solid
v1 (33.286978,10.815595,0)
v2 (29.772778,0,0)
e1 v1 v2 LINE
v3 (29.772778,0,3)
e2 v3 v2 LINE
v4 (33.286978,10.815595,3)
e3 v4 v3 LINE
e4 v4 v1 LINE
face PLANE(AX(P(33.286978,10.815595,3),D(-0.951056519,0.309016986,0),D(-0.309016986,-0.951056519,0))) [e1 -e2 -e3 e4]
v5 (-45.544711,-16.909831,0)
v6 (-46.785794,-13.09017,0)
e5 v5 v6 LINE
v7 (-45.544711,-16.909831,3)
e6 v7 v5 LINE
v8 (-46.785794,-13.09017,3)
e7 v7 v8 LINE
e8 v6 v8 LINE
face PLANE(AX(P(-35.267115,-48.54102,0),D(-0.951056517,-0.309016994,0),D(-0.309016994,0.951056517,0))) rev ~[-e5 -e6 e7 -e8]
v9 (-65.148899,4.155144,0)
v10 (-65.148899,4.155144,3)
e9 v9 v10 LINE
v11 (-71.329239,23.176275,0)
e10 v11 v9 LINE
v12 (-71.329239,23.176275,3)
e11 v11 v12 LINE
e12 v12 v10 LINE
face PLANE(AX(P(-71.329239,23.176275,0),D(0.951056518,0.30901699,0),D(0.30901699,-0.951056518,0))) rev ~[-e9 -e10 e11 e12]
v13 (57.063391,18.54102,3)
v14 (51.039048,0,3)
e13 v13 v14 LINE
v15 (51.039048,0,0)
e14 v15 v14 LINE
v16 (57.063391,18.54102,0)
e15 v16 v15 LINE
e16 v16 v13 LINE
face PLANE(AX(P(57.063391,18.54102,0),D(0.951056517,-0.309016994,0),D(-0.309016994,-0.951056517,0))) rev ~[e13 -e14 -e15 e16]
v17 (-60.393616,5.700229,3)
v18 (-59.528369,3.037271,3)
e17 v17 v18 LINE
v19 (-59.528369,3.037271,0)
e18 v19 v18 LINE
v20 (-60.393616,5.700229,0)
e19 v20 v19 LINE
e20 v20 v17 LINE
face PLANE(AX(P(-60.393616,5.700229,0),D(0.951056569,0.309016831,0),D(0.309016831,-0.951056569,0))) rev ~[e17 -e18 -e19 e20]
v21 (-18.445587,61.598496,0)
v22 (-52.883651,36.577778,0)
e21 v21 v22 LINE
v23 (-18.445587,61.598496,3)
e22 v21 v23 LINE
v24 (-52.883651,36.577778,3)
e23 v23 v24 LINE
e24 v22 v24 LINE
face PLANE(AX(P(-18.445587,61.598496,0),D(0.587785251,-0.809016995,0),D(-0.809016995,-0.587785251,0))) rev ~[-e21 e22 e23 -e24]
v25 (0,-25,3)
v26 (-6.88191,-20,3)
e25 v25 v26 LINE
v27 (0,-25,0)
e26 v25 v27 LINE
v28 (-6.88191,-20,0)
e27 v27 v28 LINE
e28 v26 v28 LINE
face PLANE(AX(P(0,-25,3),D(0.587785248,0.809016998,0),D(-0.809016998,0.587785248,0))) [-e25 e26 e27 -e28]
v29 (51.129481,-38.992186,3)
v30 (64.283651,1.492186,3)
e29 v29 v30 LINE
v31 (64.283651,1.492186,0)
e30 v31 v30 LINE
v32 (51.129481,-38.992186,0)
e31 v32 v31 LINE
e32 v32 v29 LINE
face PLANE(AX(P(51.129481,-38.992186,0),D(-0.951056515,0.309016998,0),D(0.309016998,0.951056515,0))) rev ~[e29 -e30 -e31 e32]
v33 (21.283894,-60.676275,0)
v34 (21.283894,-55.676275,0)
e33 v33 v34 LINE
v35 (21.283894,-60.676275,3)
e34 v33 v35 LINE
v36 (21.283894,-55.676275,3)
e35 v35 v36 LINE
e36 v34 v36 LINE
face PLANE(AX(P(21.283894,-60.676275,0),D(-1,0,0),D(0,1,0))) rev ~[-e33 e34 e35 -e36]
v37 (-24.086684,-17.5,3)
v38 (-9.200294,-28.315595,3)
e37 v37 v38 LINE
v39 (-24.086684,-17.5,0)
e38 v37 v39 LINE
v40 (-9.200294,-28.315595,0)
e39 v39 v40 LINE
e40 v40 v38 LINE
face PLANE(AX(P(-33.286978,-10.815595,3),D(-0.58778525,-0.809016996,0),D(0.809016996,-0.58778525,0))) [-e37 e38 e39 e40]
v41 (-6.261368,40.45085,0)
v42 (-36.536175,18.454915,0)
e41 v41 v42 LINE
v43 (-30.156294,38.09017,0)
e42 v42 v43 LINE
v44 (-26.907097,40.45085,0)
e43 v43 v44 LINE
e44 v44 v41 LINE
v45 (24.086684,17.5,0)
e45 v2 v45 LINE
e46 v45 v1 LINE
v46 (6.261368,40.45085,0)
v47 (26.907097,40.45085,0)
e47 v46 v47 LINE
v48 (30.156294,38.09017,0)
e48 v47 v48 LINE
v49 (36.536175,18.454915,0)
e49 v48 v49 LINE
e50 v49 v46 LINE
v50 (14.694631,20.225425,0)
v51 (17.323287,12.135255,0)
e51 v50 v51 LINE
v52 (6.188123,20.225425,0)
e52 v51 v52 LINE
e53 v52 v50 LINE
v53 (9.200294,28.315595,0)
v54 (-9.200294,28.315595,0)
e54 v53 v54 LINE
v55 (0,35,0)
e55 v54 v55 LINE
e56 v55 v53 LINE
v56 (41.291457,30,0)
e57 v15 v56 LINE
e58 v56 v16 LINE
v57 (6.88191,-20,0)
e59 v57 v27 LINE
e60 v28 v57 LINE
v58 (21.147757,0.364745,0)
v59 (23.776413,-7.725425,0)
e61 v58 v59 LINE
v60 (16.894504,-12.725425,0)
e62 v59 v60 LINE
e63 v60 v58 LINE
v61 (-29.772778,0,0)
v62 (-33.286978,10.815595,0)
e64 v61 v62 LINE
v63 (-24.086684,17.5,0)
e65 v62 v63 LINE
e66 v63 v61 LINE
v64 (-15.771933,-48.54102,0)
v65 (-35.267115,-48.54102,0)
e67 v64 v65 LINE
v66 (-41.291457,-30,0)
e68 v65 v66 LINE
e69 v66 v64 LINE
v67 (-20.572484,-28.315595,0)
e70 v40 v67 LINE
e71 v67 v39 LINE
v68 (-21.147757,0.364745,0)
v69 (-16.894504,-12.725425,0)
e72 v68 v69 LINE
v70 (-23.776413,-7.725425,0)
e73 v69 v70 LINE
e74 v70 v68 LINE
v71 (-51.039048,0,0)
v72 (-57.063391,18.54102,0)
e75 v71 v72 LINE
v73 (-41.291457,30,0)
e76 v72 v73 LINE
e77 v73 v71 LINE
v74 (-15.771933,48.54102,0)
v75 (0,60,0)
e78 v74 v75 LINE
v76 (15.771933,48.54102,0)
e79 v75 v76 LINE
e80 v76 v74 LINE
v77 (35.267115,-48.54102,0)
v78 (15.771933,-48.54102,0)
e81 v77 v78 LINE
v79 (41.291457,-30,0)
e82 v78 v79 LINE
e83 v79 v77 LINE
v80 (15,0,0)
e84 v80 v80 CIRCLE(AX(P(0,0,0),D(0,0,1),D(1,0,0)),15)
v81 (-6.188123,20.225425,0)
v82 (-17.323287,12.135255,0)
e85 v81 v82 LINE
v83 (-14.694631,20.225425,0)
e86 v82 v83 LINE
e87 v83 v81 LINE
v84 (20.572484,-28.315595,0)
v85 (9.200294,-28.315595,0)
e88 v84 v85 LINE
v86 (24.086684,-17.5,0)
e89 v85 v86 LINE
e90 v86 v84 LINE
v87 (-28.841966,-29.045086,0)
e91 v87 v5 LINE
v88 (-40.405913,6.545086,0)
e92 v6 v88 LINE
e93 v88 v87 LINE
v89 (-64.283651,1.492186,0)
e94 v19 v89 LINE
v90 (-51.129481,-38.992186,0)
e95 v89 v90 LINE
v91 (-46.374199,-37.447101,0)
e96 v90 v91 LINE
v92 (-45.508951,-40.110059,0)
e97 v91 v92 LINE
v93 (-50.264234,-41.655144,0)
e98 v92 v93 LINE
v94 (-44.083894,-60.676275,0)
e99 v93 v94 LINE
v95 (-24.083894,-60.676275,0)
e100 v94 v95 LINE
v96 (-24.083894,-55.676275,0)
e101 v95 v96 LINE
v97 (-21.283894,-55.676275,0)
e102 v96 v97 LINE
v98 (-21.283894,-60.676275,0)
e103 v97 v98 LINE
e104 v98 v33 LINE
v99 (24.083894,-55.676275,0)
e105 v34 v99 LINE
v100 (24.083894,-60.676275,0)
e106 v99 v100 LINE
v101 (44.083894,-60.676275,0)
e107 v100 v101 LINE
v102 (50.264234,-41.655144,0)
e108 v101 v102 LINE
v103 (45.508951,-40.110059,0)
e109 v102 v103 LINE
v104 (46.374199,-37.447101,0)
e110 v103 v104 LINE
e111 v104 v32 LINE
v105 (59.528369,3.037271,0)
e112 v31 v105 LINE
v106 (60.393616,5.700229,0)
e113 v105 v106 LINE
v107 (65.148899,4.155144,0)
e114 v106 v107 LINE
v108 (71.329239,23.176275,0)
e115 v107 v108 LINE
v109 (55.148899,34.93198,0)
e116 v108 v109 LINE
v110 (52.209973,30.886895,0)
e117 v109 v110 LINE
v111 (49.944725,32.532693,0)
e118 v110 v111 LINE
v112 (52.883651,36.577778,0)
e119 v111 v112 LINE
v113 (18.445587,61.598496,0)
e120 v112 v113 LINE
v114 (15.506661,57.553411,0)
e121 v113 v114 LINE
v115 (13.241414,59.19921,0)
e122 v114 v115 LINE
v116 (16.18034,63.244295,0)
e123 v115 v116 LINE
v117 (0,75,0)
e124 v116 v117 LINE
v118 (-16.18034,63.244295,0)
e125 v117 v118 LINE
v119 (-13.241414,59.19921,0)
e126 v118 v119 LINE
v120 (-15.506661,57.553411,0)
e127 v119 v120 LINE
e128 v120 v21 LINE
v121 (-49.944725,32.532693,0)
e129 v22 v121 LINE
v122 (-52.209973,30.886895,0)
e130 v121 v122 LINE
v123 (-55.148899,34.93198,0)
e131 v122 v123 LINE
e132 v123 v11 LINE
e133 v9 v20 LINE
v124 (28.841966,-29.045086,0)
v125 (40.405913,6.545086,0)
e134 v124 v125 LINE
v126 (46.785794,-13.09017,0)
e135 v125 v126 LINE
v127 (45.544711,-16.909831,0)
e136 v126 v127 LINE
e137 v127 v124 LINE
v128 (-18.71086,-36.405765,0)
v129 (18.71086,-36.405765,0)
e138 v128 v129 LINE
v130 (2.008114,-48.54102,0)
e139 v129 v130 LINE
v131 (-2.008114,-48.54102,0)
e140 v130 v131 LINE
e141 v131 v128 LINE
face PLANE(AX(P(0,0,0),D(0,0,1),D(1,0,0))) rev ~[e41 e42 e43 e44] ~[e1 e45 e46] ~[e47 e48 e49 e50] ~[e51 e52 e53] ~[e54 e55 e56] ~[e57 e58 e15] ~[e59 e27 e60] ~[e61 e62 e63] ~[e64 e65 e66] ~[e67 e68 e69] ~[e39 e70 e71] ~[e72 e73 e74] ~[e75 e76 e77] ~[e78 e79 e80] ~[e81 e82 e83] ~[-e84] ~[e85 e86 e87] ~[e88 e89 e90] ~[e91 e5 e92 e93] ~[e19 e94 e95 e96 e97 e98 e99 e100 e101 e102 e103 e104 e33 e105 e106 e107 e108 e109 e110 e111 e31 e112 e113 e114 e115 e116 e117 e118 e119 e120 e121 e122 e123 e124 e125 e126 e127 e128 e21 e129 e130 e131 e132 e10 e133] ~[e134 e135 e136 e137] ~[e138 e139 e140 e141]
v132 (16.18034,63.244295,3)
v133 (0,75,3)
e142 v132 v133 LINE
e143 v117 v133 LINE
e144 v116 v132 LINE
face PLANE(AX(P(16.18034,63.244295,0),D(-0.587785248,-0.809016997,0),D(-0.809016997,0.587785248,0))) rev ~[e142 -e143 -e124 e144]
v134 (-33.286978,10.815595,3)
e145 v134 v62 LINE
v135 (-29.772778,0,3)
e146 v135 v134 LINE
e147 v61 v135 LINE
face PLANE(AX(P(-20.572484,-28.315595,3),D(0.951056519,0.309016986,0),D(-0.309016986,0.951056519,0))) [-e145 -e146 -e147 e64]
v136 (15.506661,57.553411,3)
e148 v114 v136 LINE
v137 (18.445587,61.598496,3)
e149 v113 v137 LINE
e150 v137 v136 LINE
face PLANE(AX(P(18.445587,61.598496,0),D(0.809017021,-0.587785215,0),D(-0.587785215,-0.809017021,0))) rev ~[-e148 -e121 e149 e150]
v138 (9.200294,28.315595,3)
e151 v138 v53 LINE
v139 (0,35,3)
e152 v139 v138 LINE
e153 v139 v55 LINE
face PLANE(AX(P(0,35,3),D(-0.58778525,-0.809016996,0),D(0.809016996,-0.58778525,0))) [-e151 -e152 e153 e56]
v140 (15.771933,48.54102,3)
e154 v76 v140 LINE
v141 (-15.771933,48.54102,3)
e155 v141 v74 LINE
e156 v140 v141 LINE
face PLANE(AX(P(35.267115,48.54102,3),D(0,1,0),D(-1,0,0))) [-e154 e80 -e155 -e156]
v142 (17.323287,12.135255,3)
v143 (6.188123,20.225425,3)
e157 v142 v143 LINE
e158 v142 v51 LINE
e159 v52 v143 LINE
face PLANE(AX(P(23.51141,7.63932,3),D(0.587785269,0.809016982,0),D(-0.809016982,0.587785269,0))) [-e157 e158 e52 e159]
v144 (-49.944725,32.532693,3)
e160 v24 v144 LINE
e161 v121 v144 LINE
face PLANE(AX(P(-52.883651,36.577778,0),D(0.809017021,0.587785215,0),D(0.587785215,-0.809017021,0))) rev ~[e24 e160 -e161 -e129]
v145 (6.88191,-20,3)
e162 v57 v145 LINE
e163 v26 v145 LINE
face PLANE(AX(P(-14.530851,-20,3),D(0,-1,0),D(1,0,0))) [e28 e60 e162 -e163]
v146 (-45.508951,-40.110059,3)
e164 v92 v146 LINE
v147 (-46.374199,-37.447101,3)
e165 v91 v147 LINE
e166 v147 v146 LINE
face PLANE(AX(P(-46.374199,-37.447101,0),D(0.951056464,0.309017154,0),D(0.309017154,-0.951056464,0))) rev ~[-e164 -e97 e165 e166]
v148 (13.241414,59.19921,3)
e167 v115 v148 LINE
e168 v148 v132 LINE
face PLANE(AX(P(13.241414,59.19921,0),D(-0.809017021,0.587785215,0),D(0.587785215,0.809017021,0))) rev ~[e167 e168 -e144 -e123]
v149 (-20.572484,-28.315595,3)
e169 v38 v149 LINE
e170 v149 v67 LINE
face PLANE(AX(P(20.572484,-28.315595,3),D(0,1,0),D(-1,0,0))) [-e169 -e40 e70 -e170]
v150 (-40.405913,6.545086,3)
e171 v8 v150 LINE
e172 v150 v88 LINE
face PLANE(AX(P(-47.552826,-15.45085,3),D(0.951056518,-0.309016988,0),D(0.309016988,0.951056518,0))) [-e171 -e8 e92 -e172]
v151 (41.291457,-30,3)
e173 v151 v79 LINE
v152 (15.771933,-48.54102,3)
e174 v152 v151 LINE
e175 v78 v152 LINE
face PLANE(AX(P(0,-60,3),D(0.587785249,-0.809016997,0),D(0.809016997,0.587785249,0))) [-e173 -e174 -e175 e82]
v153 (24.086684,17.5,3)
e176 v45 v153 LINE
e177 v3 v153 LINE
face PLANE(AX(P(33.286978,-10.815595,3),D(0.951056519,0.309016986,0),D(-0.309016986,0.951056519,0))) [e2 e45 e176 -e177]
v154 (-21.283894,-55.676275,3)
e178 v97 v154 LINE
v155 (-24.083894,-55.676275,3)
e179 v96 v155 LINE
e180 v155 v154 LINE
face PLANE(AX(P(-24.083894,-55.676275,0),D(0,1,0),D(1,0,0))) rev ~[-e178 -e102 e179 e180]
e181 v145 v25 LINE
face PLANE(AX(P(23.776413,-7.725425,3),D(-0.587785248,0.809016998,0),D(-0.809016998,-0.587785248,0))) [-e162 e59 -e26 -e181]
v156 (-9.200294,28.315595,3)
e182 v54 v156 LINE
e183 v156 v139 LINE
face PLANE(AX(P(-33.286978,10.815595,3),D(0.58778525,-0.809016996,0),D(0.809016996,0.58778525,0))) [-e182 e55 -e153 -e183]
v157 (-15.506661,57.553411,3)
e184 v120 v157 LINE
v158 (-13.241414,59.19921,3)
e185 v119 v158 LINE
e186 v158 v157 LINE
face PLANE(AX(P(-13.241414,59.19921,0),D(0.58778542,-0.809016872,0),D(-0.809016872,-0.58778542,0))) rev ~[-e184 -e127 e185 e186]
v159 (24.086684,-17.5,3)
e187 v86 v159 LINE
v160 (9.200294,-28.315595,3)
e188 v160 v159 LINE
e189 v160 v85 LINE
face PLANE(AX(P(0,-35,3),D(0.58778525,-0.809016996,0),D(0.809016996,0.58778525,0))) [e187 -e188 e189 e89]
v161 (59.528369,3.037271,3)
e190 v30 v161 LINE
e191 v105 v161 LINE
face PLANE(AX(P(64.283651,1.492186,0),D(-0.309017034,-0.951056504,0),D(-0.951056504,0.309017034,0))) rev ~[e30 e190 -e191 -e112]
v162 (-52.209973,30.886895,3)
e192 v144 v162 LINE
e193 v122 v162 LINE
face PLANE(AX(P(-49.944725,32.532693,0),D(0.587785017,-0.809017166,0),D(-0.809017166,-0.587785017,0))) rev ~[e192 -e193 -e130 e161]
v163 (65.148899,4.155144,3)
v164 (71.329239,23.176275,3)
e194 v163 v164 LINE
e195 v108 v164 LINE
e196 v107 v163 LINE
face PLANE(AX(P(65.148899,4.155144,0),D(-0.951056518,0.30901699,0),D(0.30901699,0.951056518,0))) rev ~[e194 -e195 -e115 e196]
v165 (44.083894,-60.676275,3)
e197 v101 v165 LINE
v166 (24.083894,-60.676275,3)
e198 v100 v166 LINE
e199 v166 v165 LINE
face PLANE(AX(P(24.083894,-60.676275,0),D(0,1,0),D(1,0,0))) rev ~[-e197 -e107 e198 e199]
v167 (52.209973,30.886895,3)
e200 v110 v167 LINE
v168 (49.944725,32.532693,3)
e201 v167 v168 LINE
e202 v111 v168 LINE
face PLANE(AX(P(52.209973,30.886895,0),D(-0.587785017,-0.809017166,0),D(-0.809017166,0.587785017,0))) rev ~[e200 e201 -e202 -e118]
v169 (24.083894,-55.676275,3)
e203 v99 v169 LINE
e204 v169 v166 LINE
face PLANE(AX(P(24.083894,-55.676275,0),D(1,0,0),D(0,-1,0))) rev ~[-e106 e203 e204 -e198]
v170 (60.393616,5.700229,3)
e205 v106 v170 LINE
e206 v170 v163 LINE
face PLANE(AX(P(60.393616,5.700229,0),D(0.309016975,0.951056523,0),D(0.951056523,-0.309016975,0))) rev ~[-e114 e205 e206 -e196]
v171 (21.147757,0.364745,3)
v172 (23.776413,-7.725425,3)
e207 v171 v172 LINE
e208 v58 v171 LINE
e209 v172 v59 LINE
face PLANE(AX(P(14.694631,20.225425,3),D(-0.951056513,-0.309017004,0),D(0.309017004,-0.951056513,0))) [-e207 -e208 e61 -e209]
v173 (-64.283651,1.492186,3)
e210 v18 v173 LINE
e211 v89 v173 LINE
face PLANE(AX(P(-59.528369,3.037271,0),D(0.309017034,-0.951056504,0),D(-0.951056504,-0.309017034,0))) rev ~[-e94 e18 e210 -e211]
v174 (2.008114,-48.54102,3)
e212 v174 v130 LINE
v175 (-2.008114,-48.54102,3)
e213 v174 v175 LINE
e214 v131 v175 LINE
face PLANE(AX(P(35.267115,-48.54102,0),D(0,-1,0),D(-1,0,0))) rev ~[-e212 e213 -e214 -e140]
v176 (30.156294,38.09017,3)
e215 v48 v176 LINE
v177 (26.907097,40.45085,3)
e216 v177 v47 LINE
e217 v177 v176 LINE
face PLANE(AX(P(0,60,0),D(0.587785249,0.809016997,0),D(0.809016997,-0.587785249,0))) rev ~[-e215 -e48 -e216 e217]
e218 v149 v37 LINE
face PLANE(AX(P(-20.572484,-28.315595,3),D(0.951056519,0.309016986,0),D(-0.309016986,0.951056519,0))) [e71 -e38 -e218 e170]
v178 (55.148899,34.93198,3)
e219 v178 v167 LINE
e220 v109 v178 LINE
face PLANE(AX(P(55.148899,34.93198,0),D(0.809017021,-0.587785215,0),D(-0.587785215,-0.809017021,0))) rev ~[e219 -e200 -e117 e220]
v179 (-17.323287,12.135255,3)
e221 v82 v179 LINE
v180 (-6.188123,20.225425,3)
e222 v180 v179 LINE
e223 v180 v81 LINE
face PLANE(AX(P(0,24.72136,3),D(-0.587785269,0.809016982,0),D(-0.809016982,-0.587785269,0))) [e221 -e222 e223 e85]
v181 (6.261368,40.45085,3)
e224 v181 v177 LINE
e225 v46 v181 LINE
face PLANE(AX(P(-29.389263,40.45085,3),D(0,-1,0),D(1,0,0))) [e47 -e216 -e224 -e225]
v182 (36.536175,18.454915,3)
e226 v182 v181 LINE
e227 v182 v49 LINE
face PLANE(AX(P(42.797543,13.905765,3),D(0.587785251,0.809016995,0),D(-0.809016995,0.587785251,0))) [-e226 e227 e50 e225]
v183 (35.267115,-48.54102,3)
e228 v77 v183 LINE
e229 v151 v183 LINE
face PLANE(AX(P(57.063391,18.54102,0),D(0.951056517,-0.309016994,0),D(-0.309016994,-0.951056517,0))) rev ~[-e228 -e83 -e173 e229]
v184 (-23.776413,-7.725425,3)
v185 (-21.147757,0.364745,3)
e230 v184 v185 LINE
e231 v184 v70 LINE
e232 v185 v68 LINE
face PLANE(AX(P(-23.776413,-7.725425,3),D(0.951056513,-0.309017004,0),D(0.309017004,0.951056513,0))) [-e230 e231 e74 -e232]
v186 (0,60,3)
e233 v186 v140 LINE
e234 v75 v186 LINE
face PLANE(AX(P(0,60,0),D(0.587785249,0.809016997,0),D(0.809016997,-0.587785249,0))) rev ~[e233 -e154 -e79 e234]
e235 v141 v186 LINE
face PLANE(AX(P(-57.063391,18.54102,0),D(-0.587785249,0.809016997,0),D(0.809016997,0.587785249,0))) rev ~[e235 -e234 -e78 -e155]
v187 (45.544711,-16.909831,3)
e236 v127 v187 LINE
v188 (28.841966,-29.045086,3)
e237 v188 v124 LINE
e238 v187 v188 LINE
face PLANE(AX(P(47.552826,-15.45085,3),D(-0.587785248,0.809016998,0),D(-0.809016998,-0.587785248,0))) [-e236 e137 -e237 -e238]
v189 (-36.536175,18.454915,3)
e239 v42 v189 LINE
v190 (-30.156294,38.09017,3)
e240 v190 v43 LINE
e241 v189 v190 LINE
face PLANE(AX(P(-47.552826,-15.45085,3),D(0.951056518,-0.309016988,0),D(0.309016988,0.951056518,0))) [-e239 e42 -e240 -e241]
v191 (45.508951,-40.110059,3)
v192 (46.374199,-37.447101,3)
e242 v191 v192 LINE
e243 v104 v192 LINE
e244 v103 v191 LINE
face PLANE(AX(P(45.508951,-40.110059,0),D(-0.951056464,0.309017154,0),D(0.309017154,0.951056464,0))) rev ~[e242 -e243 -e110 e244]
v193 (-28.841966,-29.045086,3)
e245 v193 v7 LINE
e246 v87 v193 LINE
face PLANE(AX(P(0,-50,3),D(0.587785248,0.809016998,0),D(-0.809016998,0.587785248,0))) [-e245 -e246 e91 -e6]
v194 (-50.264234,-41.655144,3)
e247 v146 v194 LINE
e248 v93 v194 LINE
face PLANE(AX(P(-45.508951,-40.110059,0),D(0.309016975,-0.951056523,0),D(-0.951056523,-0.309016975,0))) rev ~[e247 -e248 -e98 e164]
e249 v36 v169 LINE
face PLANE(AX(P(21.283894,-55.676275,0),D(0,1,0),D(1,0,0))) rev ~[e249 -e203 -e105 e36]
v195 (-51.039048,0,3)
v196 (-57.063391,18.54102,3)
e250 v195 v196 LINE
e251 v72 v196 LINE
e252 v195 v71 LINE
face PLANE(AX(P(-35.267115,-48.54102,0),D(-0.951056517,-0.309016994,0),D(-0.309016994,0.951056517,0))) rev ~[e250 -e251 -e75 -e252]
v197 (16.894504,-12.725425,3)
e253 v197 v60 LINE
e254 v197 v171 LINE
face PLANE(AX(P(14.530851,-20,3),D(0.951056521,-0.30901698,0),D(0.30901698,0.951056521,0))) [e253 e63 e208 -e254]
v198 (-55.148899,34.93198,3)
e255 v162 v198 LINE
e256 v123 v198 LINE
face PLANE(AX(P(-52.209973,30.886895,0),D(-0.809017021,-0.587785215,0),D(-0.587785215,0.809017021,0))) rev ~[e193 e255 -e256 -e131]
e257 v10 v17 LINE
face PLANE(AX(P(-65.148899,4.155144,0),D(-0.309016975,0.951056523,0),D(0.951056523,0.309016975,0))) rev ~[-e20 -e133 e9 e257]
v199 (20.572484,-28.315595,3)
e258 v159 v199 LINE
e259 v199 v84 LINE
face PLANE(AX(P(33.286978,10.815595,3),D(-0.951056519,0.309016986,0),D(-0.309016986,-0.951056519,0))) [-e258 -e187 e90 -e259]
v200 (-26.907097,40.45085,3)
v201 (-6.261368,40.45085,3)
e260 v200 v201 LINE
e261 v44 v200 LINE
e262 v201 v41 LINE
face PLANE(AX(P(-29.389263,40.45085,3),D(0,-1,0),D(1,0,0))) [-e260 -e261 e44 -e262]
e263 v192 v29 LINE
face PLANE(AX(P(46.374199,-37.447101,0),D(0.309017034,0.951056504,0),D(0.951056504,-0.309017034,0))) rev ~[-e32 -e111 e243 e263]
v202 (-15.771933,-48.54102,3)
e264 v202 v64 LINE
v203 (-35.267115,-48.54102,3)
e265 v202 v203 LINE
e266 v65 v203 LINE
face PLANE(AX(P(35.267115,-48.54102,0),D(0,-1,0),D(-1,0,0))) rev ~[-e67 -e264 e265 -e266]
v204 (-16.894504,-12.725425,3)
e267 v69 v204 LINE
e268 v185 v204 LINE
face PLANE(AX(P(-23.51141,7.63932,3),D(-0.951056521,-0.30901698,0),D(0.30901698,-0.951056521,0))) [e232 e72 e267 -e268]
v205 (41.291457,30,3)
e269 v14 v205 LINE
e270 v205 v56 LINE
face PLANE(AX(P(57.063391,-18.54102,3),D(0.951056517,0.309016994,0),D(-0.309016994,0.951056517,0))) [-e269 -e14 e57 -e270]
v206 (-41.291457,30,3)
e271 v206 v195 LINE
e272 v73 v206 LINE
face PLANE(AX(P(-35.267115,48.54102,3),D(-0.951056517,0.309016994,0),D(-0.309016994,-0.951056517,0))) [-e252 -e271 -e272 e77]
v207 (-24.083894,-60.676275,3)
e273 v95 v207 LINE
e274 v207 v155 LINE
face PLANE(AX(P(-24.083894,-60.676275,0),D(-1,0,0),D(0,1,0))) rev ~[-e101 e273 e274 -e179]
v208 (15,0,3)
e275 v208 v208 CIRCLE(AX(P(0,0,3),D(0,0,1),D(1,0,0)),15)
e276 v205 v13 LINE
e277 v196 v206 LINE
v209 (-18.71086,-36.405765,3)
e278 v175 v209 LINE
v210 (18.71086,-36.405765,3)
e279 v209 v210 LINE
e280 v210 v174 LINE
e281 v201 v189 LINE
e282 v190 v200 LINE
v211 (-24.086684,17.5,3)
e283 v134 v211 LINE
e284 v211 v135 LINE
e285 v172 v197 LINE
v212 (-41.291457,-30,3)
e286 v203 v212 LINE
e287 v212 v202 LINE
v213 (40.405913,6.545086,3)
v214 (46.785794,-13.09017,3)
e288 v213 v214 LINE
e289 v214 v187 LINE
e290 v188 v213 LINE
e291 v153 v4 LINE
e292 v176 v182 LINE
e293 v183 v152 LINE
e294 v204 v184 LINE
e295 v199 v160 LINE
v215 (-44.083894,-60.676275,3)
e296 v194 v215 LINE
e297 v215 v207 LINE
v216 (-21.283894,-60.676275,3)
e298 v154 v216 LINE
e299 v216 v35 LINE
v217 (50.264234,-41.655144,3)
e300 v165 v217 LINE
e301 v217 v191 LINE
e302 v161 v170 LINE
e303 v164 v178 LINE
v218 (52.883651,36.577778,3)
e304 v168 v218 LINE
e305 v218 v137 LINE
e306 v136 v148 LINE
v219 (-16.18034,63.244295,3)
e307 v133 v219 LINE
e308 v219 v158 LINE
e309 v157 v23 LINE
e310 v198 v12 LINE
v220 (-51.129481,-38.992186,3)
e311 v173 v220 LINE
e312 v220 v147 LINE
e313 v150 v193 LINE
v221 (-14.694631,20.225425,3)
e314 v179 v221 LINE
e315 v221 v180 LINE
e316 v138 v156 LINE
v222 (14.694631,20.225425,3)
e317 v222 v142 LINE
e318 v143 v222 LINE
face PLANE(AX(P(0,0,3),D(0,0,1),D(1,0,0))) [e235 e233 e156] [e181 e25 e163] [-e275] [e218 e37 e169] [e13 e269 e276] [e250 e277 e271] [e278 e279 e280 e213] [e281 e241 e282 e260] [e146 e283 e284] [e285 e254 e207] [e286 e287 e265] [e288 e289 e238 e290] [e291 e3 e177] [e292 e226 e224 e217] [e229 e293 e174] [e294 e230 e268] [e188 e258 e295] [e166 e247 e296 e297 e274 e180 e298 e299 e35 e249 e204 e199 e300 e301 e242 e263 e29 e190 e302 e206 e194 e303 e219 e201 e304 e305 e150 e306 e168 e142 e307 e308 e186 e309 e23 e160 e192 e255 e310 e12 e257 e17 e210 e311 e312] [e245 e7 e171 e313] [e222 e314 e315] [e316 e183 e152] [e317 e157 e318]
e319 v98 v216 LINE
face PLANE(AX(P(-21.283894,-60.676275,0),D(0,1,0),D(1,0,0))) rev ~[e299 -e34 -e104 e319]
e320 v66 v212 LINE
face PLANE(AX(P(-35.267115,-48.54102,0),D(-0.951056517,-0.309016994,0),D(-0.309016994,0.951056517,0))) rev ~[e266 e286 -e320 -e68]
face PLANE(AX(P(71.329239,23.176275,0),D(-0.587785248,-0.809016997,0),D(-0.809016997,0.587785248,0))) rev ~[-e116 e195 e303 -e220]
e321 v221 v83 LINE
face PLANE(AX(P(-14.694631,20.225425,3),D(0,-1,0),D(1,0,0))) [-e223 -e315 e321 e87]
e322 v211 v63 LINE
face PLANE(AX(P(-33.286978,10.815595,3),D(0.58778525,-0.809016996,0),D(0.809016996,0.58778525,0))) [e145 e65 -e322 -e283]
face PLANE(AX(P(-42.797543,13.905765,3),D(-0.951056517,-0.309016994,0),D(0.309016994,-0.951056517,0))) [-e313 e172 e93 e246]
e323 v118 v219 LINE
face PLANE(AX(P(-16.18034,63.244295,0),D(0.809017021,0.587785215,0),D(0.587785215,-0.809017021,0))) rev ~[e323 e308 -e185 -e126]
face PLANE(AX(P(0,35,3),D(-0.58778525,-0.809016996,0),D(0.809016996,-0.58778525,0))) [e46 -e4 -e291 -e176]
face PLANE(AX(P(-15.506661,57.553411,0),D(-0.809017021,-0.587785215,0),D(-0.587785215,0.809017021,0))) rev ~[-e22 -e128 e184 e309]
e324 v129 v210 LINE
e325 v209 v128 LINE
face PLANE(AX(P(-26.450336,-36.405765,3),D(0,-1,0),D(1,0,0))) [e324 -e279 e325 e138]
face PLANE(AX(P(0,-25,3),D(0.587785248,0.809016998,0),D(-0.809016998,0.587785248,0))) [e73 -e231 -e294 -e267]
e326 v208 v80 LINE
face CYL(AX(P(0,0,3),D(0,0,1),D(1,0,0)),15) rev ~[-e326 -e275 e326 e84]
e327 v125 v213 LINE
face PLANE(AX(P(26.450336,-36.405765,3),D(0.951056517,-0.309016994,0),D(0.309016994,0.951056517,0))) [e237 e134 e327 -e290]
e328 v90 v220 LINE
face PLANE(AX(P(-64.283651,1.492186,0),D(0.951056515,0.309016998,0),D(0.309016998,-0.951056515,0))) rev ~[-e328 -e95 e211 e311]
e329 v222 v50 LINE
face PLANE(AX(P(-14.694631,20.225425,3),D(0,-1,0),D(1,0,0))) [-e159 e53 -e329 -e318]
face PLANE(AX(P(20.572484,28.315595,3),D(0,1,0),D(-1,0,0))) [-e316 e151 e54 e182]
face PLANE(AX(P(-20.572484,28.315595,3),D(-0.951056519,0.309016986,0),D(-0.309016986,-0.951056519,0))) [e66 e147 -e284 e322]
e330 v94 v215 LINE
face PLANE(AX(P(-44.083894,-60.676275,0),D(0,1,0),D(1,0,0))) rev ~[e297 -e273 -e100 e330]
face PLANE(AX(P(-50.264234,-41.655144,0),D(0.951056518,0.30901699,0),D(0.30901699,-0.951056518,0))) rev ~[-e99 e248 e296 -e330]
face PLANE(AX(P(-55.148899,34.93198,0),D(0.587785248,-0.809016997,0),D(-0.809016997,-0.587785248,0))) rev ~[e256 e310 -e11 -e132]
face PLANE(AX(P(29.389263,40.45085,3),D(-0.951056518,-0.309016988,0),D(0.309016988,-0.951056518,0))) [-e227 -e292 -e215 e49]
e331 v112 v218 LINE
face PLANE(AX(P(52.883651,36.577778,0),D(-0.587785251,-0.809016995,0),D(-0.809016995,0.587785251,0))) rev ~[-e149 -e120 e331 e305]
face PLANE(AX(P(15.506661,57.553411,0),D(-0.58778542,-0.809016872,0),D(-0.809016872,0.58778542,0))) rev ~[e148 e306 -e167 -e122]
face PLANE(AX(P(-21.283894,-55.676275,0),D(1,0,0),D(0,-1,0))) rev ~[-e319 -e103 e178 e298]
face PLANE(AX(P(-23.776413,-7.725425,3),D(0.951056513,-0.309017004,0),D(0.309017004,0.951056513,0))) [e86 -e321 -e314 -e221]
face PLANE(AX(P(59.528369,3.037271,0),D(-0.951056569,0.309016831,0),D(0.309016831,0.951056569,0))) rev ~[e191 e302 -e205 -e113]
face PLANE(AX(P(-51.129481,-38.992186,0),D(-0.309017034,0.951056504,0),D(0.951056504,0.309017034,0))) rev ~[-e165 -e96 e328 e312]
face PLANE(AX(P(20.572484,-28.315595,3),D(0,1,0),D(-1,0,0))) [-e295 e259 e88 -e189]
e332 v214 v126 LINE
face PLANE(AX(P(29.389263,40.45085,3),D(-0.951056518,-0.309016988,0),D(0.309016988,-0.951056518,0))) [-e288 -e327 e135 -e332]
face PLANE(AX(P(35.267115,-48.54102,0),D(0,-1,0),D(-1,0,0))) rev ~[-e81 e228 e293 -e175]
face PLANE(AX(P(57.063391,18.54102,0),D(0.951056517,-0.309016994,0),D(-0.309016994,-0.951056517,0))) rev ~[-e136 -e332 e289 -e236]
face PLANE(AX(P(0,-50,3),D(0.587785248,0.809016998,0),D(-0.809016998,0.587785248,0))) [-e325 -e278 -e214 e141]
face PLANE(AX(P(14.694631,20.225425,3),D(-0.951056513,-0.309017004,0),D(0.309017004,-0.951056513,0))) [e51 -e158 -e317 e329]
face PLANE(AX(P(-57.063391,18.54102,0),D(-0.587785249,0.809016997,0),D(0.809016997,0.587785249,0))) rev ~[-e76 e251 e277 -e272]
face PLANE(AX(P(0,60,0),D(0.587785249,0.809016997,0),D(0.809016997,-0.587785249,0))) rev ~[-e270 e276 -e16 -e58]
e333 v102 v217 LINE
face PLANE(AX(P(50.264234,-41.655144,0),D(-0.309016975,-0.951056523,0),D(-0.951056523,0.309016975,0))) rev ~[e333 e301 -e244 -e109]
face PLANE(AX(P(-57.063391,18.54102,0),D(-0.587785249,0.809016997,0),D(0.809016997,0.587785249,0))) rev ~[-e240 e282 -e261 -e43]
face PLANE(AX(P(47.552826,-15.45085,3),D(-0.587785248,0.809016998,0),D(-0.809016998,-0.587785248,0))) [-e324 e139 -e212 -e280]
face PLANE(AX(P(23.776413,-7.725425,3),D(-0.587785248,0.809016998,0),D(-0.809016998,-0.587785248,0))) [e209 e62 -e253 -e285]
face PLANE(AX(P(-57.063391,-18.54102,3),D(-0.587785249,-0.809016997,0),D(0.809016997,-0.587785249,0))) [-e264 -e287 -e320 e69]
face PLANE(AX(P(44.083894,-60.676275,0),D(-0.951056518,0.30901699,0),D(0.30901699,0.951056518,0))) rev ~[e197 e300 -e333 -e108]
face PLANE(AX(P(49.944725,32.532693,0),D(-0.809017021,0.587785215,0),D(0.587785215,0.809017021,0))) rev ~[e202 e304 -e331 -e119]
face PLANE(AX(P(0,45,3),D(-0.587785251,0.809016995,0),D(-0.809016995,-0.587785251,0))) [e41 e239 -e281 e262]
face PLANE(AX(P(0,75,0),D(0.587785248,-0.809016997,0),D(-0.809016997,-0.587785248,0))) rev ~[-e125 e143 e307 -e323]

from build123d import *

# Parameters (mm, degrees)
F1_DEPTH = 3
F3_DEPTH = 3
F5_DEPTH = 3
F7_DEPTH = 3
F8_R     = 15
F9_DEPTH = 3


with BuildPart() as f1:
    # F0 (on Top) → F1 (new body)
    with BuildSketch(Plane.XY):
        Polygon((16.18034, 63.244295), (0, 75), (-16.18034, 63.244295), (-13.241414, 59.19921), (-15.506661, 57.553411), (-18.445587, 61.598496), (-52.883651, 36.577778), (-49.944725, 32.532693), (-52.209973, 30.886895), (-55.148899, 34.93198), (-71.329239, 23.176275), (-65.148899, 4.155144), (-60.393616, 5.700229), (-59.528369, 3.037271), (-64.283651, 1.492186), (-51.129481, -38.992186), (-46.374199, -37.447101), (-45.508951, -40.110059), (-50.264234, -41.655144), (-44.083894, -60.676275), (-24.083894, -60.676275), (-24.083894, -55.676275), (-21.283894, -55.676275), (-21.283894, -60.676275), (21.283894, -60.676275), (21.283894, -55.676275), (24.083894, -55.676275), (24.083894, -60.676275), (44.083894, -60.676275), (50.264234, -41.655144), (45.508951, -40.110059), (46.374199, -37.447101), (51.129481, -38.992186), (64.283651, 1.492186), (59.528369, 3.037271), (60.393616, 5.700229), (65.148899, 4.155144), (71.329239, 23.176275), (55.148899, 34.93198), (52.209973, 30.886895), (49.944725, 32.532693), (52.883651, 36.577778), (18.445587, 61.598496), (15.506661, 57.553411), (13.241414, 59.19921), align=None)
        Polygon((-57.063391, 18.54102), (0, 60), (57.063391, 18.54102), (35.267115, -48.54102), (-35.267115, -48.54102), align=None, mode=Mode.SUBTRACT)
    extrude(amount=F1_DEPTH)

    # F2 (on face) → F3 (join)
    with BuildSketch(Plane.XY.offset(3)):
        Polygon((-57.063391, -18.54102), (0, -60), (57.063391, -18.54102), (35.267115, 48.54102), (-35.267115, 48.54102), align=None)
        Polygon((47.552826, -15.45085), (0, -50), (-47.552826, -15.45085), (-29.389263, 40.45085), (29.389263, 40.45085), align=None, mode=Mode.SUBTRACT)
    extrude(amount=-F3_DEPTH)

    # F4 (on face) → F5 (join)
    with BuildSketch(Plane.XY.offset(3)):
        Polygon((42.797543, 13.905765), (0, 45), (-42.797543, 13.905765), (-26.450336, -36.405765), (26.450336, -36.405765), align=None)
        Polygon((-33.286978, 10.815595), (0, 35), (33.286978, 10.815595), (20.572484, -28.315595), (-20.572484, -28.315595), align=None, mode=Mode.SUBTRACT)
    extrude(amount=-F5_DEPTH)

    # F6 (on face) → F7 (join)
    with BuildSketch(Plane.XY.offset(3)):
        Polygon((-33.286978, -10.815595), (0, -35), (33.286978, -10.815595), (20.572484, 28.315595), (-20.572484, 28.315595), align=None)
        Polygon((23.776413, -7.725425), (0, -25), (-23.776413, -7.725425), (-14.694631, 20.225425), (14.694631, 20.225425), align=None, mode=Mode.SUBTRACT)
    extrude(amount=-F7_DEPTH)

    # F8 (on face) → F9 (join)
    with BuildSketch(Plane.XY.offset(3)):
        Polygon((-14.530851, -20), (14.530851, -20), (23.51141, 7.63932), (0, 24.72136), (-23.51141, 7.63932), align=None)
        Circle(F8_R, mode=Mode.SUBTRACT)
    extrude(amount=-F9_DEPTH)


solid = f1.part
